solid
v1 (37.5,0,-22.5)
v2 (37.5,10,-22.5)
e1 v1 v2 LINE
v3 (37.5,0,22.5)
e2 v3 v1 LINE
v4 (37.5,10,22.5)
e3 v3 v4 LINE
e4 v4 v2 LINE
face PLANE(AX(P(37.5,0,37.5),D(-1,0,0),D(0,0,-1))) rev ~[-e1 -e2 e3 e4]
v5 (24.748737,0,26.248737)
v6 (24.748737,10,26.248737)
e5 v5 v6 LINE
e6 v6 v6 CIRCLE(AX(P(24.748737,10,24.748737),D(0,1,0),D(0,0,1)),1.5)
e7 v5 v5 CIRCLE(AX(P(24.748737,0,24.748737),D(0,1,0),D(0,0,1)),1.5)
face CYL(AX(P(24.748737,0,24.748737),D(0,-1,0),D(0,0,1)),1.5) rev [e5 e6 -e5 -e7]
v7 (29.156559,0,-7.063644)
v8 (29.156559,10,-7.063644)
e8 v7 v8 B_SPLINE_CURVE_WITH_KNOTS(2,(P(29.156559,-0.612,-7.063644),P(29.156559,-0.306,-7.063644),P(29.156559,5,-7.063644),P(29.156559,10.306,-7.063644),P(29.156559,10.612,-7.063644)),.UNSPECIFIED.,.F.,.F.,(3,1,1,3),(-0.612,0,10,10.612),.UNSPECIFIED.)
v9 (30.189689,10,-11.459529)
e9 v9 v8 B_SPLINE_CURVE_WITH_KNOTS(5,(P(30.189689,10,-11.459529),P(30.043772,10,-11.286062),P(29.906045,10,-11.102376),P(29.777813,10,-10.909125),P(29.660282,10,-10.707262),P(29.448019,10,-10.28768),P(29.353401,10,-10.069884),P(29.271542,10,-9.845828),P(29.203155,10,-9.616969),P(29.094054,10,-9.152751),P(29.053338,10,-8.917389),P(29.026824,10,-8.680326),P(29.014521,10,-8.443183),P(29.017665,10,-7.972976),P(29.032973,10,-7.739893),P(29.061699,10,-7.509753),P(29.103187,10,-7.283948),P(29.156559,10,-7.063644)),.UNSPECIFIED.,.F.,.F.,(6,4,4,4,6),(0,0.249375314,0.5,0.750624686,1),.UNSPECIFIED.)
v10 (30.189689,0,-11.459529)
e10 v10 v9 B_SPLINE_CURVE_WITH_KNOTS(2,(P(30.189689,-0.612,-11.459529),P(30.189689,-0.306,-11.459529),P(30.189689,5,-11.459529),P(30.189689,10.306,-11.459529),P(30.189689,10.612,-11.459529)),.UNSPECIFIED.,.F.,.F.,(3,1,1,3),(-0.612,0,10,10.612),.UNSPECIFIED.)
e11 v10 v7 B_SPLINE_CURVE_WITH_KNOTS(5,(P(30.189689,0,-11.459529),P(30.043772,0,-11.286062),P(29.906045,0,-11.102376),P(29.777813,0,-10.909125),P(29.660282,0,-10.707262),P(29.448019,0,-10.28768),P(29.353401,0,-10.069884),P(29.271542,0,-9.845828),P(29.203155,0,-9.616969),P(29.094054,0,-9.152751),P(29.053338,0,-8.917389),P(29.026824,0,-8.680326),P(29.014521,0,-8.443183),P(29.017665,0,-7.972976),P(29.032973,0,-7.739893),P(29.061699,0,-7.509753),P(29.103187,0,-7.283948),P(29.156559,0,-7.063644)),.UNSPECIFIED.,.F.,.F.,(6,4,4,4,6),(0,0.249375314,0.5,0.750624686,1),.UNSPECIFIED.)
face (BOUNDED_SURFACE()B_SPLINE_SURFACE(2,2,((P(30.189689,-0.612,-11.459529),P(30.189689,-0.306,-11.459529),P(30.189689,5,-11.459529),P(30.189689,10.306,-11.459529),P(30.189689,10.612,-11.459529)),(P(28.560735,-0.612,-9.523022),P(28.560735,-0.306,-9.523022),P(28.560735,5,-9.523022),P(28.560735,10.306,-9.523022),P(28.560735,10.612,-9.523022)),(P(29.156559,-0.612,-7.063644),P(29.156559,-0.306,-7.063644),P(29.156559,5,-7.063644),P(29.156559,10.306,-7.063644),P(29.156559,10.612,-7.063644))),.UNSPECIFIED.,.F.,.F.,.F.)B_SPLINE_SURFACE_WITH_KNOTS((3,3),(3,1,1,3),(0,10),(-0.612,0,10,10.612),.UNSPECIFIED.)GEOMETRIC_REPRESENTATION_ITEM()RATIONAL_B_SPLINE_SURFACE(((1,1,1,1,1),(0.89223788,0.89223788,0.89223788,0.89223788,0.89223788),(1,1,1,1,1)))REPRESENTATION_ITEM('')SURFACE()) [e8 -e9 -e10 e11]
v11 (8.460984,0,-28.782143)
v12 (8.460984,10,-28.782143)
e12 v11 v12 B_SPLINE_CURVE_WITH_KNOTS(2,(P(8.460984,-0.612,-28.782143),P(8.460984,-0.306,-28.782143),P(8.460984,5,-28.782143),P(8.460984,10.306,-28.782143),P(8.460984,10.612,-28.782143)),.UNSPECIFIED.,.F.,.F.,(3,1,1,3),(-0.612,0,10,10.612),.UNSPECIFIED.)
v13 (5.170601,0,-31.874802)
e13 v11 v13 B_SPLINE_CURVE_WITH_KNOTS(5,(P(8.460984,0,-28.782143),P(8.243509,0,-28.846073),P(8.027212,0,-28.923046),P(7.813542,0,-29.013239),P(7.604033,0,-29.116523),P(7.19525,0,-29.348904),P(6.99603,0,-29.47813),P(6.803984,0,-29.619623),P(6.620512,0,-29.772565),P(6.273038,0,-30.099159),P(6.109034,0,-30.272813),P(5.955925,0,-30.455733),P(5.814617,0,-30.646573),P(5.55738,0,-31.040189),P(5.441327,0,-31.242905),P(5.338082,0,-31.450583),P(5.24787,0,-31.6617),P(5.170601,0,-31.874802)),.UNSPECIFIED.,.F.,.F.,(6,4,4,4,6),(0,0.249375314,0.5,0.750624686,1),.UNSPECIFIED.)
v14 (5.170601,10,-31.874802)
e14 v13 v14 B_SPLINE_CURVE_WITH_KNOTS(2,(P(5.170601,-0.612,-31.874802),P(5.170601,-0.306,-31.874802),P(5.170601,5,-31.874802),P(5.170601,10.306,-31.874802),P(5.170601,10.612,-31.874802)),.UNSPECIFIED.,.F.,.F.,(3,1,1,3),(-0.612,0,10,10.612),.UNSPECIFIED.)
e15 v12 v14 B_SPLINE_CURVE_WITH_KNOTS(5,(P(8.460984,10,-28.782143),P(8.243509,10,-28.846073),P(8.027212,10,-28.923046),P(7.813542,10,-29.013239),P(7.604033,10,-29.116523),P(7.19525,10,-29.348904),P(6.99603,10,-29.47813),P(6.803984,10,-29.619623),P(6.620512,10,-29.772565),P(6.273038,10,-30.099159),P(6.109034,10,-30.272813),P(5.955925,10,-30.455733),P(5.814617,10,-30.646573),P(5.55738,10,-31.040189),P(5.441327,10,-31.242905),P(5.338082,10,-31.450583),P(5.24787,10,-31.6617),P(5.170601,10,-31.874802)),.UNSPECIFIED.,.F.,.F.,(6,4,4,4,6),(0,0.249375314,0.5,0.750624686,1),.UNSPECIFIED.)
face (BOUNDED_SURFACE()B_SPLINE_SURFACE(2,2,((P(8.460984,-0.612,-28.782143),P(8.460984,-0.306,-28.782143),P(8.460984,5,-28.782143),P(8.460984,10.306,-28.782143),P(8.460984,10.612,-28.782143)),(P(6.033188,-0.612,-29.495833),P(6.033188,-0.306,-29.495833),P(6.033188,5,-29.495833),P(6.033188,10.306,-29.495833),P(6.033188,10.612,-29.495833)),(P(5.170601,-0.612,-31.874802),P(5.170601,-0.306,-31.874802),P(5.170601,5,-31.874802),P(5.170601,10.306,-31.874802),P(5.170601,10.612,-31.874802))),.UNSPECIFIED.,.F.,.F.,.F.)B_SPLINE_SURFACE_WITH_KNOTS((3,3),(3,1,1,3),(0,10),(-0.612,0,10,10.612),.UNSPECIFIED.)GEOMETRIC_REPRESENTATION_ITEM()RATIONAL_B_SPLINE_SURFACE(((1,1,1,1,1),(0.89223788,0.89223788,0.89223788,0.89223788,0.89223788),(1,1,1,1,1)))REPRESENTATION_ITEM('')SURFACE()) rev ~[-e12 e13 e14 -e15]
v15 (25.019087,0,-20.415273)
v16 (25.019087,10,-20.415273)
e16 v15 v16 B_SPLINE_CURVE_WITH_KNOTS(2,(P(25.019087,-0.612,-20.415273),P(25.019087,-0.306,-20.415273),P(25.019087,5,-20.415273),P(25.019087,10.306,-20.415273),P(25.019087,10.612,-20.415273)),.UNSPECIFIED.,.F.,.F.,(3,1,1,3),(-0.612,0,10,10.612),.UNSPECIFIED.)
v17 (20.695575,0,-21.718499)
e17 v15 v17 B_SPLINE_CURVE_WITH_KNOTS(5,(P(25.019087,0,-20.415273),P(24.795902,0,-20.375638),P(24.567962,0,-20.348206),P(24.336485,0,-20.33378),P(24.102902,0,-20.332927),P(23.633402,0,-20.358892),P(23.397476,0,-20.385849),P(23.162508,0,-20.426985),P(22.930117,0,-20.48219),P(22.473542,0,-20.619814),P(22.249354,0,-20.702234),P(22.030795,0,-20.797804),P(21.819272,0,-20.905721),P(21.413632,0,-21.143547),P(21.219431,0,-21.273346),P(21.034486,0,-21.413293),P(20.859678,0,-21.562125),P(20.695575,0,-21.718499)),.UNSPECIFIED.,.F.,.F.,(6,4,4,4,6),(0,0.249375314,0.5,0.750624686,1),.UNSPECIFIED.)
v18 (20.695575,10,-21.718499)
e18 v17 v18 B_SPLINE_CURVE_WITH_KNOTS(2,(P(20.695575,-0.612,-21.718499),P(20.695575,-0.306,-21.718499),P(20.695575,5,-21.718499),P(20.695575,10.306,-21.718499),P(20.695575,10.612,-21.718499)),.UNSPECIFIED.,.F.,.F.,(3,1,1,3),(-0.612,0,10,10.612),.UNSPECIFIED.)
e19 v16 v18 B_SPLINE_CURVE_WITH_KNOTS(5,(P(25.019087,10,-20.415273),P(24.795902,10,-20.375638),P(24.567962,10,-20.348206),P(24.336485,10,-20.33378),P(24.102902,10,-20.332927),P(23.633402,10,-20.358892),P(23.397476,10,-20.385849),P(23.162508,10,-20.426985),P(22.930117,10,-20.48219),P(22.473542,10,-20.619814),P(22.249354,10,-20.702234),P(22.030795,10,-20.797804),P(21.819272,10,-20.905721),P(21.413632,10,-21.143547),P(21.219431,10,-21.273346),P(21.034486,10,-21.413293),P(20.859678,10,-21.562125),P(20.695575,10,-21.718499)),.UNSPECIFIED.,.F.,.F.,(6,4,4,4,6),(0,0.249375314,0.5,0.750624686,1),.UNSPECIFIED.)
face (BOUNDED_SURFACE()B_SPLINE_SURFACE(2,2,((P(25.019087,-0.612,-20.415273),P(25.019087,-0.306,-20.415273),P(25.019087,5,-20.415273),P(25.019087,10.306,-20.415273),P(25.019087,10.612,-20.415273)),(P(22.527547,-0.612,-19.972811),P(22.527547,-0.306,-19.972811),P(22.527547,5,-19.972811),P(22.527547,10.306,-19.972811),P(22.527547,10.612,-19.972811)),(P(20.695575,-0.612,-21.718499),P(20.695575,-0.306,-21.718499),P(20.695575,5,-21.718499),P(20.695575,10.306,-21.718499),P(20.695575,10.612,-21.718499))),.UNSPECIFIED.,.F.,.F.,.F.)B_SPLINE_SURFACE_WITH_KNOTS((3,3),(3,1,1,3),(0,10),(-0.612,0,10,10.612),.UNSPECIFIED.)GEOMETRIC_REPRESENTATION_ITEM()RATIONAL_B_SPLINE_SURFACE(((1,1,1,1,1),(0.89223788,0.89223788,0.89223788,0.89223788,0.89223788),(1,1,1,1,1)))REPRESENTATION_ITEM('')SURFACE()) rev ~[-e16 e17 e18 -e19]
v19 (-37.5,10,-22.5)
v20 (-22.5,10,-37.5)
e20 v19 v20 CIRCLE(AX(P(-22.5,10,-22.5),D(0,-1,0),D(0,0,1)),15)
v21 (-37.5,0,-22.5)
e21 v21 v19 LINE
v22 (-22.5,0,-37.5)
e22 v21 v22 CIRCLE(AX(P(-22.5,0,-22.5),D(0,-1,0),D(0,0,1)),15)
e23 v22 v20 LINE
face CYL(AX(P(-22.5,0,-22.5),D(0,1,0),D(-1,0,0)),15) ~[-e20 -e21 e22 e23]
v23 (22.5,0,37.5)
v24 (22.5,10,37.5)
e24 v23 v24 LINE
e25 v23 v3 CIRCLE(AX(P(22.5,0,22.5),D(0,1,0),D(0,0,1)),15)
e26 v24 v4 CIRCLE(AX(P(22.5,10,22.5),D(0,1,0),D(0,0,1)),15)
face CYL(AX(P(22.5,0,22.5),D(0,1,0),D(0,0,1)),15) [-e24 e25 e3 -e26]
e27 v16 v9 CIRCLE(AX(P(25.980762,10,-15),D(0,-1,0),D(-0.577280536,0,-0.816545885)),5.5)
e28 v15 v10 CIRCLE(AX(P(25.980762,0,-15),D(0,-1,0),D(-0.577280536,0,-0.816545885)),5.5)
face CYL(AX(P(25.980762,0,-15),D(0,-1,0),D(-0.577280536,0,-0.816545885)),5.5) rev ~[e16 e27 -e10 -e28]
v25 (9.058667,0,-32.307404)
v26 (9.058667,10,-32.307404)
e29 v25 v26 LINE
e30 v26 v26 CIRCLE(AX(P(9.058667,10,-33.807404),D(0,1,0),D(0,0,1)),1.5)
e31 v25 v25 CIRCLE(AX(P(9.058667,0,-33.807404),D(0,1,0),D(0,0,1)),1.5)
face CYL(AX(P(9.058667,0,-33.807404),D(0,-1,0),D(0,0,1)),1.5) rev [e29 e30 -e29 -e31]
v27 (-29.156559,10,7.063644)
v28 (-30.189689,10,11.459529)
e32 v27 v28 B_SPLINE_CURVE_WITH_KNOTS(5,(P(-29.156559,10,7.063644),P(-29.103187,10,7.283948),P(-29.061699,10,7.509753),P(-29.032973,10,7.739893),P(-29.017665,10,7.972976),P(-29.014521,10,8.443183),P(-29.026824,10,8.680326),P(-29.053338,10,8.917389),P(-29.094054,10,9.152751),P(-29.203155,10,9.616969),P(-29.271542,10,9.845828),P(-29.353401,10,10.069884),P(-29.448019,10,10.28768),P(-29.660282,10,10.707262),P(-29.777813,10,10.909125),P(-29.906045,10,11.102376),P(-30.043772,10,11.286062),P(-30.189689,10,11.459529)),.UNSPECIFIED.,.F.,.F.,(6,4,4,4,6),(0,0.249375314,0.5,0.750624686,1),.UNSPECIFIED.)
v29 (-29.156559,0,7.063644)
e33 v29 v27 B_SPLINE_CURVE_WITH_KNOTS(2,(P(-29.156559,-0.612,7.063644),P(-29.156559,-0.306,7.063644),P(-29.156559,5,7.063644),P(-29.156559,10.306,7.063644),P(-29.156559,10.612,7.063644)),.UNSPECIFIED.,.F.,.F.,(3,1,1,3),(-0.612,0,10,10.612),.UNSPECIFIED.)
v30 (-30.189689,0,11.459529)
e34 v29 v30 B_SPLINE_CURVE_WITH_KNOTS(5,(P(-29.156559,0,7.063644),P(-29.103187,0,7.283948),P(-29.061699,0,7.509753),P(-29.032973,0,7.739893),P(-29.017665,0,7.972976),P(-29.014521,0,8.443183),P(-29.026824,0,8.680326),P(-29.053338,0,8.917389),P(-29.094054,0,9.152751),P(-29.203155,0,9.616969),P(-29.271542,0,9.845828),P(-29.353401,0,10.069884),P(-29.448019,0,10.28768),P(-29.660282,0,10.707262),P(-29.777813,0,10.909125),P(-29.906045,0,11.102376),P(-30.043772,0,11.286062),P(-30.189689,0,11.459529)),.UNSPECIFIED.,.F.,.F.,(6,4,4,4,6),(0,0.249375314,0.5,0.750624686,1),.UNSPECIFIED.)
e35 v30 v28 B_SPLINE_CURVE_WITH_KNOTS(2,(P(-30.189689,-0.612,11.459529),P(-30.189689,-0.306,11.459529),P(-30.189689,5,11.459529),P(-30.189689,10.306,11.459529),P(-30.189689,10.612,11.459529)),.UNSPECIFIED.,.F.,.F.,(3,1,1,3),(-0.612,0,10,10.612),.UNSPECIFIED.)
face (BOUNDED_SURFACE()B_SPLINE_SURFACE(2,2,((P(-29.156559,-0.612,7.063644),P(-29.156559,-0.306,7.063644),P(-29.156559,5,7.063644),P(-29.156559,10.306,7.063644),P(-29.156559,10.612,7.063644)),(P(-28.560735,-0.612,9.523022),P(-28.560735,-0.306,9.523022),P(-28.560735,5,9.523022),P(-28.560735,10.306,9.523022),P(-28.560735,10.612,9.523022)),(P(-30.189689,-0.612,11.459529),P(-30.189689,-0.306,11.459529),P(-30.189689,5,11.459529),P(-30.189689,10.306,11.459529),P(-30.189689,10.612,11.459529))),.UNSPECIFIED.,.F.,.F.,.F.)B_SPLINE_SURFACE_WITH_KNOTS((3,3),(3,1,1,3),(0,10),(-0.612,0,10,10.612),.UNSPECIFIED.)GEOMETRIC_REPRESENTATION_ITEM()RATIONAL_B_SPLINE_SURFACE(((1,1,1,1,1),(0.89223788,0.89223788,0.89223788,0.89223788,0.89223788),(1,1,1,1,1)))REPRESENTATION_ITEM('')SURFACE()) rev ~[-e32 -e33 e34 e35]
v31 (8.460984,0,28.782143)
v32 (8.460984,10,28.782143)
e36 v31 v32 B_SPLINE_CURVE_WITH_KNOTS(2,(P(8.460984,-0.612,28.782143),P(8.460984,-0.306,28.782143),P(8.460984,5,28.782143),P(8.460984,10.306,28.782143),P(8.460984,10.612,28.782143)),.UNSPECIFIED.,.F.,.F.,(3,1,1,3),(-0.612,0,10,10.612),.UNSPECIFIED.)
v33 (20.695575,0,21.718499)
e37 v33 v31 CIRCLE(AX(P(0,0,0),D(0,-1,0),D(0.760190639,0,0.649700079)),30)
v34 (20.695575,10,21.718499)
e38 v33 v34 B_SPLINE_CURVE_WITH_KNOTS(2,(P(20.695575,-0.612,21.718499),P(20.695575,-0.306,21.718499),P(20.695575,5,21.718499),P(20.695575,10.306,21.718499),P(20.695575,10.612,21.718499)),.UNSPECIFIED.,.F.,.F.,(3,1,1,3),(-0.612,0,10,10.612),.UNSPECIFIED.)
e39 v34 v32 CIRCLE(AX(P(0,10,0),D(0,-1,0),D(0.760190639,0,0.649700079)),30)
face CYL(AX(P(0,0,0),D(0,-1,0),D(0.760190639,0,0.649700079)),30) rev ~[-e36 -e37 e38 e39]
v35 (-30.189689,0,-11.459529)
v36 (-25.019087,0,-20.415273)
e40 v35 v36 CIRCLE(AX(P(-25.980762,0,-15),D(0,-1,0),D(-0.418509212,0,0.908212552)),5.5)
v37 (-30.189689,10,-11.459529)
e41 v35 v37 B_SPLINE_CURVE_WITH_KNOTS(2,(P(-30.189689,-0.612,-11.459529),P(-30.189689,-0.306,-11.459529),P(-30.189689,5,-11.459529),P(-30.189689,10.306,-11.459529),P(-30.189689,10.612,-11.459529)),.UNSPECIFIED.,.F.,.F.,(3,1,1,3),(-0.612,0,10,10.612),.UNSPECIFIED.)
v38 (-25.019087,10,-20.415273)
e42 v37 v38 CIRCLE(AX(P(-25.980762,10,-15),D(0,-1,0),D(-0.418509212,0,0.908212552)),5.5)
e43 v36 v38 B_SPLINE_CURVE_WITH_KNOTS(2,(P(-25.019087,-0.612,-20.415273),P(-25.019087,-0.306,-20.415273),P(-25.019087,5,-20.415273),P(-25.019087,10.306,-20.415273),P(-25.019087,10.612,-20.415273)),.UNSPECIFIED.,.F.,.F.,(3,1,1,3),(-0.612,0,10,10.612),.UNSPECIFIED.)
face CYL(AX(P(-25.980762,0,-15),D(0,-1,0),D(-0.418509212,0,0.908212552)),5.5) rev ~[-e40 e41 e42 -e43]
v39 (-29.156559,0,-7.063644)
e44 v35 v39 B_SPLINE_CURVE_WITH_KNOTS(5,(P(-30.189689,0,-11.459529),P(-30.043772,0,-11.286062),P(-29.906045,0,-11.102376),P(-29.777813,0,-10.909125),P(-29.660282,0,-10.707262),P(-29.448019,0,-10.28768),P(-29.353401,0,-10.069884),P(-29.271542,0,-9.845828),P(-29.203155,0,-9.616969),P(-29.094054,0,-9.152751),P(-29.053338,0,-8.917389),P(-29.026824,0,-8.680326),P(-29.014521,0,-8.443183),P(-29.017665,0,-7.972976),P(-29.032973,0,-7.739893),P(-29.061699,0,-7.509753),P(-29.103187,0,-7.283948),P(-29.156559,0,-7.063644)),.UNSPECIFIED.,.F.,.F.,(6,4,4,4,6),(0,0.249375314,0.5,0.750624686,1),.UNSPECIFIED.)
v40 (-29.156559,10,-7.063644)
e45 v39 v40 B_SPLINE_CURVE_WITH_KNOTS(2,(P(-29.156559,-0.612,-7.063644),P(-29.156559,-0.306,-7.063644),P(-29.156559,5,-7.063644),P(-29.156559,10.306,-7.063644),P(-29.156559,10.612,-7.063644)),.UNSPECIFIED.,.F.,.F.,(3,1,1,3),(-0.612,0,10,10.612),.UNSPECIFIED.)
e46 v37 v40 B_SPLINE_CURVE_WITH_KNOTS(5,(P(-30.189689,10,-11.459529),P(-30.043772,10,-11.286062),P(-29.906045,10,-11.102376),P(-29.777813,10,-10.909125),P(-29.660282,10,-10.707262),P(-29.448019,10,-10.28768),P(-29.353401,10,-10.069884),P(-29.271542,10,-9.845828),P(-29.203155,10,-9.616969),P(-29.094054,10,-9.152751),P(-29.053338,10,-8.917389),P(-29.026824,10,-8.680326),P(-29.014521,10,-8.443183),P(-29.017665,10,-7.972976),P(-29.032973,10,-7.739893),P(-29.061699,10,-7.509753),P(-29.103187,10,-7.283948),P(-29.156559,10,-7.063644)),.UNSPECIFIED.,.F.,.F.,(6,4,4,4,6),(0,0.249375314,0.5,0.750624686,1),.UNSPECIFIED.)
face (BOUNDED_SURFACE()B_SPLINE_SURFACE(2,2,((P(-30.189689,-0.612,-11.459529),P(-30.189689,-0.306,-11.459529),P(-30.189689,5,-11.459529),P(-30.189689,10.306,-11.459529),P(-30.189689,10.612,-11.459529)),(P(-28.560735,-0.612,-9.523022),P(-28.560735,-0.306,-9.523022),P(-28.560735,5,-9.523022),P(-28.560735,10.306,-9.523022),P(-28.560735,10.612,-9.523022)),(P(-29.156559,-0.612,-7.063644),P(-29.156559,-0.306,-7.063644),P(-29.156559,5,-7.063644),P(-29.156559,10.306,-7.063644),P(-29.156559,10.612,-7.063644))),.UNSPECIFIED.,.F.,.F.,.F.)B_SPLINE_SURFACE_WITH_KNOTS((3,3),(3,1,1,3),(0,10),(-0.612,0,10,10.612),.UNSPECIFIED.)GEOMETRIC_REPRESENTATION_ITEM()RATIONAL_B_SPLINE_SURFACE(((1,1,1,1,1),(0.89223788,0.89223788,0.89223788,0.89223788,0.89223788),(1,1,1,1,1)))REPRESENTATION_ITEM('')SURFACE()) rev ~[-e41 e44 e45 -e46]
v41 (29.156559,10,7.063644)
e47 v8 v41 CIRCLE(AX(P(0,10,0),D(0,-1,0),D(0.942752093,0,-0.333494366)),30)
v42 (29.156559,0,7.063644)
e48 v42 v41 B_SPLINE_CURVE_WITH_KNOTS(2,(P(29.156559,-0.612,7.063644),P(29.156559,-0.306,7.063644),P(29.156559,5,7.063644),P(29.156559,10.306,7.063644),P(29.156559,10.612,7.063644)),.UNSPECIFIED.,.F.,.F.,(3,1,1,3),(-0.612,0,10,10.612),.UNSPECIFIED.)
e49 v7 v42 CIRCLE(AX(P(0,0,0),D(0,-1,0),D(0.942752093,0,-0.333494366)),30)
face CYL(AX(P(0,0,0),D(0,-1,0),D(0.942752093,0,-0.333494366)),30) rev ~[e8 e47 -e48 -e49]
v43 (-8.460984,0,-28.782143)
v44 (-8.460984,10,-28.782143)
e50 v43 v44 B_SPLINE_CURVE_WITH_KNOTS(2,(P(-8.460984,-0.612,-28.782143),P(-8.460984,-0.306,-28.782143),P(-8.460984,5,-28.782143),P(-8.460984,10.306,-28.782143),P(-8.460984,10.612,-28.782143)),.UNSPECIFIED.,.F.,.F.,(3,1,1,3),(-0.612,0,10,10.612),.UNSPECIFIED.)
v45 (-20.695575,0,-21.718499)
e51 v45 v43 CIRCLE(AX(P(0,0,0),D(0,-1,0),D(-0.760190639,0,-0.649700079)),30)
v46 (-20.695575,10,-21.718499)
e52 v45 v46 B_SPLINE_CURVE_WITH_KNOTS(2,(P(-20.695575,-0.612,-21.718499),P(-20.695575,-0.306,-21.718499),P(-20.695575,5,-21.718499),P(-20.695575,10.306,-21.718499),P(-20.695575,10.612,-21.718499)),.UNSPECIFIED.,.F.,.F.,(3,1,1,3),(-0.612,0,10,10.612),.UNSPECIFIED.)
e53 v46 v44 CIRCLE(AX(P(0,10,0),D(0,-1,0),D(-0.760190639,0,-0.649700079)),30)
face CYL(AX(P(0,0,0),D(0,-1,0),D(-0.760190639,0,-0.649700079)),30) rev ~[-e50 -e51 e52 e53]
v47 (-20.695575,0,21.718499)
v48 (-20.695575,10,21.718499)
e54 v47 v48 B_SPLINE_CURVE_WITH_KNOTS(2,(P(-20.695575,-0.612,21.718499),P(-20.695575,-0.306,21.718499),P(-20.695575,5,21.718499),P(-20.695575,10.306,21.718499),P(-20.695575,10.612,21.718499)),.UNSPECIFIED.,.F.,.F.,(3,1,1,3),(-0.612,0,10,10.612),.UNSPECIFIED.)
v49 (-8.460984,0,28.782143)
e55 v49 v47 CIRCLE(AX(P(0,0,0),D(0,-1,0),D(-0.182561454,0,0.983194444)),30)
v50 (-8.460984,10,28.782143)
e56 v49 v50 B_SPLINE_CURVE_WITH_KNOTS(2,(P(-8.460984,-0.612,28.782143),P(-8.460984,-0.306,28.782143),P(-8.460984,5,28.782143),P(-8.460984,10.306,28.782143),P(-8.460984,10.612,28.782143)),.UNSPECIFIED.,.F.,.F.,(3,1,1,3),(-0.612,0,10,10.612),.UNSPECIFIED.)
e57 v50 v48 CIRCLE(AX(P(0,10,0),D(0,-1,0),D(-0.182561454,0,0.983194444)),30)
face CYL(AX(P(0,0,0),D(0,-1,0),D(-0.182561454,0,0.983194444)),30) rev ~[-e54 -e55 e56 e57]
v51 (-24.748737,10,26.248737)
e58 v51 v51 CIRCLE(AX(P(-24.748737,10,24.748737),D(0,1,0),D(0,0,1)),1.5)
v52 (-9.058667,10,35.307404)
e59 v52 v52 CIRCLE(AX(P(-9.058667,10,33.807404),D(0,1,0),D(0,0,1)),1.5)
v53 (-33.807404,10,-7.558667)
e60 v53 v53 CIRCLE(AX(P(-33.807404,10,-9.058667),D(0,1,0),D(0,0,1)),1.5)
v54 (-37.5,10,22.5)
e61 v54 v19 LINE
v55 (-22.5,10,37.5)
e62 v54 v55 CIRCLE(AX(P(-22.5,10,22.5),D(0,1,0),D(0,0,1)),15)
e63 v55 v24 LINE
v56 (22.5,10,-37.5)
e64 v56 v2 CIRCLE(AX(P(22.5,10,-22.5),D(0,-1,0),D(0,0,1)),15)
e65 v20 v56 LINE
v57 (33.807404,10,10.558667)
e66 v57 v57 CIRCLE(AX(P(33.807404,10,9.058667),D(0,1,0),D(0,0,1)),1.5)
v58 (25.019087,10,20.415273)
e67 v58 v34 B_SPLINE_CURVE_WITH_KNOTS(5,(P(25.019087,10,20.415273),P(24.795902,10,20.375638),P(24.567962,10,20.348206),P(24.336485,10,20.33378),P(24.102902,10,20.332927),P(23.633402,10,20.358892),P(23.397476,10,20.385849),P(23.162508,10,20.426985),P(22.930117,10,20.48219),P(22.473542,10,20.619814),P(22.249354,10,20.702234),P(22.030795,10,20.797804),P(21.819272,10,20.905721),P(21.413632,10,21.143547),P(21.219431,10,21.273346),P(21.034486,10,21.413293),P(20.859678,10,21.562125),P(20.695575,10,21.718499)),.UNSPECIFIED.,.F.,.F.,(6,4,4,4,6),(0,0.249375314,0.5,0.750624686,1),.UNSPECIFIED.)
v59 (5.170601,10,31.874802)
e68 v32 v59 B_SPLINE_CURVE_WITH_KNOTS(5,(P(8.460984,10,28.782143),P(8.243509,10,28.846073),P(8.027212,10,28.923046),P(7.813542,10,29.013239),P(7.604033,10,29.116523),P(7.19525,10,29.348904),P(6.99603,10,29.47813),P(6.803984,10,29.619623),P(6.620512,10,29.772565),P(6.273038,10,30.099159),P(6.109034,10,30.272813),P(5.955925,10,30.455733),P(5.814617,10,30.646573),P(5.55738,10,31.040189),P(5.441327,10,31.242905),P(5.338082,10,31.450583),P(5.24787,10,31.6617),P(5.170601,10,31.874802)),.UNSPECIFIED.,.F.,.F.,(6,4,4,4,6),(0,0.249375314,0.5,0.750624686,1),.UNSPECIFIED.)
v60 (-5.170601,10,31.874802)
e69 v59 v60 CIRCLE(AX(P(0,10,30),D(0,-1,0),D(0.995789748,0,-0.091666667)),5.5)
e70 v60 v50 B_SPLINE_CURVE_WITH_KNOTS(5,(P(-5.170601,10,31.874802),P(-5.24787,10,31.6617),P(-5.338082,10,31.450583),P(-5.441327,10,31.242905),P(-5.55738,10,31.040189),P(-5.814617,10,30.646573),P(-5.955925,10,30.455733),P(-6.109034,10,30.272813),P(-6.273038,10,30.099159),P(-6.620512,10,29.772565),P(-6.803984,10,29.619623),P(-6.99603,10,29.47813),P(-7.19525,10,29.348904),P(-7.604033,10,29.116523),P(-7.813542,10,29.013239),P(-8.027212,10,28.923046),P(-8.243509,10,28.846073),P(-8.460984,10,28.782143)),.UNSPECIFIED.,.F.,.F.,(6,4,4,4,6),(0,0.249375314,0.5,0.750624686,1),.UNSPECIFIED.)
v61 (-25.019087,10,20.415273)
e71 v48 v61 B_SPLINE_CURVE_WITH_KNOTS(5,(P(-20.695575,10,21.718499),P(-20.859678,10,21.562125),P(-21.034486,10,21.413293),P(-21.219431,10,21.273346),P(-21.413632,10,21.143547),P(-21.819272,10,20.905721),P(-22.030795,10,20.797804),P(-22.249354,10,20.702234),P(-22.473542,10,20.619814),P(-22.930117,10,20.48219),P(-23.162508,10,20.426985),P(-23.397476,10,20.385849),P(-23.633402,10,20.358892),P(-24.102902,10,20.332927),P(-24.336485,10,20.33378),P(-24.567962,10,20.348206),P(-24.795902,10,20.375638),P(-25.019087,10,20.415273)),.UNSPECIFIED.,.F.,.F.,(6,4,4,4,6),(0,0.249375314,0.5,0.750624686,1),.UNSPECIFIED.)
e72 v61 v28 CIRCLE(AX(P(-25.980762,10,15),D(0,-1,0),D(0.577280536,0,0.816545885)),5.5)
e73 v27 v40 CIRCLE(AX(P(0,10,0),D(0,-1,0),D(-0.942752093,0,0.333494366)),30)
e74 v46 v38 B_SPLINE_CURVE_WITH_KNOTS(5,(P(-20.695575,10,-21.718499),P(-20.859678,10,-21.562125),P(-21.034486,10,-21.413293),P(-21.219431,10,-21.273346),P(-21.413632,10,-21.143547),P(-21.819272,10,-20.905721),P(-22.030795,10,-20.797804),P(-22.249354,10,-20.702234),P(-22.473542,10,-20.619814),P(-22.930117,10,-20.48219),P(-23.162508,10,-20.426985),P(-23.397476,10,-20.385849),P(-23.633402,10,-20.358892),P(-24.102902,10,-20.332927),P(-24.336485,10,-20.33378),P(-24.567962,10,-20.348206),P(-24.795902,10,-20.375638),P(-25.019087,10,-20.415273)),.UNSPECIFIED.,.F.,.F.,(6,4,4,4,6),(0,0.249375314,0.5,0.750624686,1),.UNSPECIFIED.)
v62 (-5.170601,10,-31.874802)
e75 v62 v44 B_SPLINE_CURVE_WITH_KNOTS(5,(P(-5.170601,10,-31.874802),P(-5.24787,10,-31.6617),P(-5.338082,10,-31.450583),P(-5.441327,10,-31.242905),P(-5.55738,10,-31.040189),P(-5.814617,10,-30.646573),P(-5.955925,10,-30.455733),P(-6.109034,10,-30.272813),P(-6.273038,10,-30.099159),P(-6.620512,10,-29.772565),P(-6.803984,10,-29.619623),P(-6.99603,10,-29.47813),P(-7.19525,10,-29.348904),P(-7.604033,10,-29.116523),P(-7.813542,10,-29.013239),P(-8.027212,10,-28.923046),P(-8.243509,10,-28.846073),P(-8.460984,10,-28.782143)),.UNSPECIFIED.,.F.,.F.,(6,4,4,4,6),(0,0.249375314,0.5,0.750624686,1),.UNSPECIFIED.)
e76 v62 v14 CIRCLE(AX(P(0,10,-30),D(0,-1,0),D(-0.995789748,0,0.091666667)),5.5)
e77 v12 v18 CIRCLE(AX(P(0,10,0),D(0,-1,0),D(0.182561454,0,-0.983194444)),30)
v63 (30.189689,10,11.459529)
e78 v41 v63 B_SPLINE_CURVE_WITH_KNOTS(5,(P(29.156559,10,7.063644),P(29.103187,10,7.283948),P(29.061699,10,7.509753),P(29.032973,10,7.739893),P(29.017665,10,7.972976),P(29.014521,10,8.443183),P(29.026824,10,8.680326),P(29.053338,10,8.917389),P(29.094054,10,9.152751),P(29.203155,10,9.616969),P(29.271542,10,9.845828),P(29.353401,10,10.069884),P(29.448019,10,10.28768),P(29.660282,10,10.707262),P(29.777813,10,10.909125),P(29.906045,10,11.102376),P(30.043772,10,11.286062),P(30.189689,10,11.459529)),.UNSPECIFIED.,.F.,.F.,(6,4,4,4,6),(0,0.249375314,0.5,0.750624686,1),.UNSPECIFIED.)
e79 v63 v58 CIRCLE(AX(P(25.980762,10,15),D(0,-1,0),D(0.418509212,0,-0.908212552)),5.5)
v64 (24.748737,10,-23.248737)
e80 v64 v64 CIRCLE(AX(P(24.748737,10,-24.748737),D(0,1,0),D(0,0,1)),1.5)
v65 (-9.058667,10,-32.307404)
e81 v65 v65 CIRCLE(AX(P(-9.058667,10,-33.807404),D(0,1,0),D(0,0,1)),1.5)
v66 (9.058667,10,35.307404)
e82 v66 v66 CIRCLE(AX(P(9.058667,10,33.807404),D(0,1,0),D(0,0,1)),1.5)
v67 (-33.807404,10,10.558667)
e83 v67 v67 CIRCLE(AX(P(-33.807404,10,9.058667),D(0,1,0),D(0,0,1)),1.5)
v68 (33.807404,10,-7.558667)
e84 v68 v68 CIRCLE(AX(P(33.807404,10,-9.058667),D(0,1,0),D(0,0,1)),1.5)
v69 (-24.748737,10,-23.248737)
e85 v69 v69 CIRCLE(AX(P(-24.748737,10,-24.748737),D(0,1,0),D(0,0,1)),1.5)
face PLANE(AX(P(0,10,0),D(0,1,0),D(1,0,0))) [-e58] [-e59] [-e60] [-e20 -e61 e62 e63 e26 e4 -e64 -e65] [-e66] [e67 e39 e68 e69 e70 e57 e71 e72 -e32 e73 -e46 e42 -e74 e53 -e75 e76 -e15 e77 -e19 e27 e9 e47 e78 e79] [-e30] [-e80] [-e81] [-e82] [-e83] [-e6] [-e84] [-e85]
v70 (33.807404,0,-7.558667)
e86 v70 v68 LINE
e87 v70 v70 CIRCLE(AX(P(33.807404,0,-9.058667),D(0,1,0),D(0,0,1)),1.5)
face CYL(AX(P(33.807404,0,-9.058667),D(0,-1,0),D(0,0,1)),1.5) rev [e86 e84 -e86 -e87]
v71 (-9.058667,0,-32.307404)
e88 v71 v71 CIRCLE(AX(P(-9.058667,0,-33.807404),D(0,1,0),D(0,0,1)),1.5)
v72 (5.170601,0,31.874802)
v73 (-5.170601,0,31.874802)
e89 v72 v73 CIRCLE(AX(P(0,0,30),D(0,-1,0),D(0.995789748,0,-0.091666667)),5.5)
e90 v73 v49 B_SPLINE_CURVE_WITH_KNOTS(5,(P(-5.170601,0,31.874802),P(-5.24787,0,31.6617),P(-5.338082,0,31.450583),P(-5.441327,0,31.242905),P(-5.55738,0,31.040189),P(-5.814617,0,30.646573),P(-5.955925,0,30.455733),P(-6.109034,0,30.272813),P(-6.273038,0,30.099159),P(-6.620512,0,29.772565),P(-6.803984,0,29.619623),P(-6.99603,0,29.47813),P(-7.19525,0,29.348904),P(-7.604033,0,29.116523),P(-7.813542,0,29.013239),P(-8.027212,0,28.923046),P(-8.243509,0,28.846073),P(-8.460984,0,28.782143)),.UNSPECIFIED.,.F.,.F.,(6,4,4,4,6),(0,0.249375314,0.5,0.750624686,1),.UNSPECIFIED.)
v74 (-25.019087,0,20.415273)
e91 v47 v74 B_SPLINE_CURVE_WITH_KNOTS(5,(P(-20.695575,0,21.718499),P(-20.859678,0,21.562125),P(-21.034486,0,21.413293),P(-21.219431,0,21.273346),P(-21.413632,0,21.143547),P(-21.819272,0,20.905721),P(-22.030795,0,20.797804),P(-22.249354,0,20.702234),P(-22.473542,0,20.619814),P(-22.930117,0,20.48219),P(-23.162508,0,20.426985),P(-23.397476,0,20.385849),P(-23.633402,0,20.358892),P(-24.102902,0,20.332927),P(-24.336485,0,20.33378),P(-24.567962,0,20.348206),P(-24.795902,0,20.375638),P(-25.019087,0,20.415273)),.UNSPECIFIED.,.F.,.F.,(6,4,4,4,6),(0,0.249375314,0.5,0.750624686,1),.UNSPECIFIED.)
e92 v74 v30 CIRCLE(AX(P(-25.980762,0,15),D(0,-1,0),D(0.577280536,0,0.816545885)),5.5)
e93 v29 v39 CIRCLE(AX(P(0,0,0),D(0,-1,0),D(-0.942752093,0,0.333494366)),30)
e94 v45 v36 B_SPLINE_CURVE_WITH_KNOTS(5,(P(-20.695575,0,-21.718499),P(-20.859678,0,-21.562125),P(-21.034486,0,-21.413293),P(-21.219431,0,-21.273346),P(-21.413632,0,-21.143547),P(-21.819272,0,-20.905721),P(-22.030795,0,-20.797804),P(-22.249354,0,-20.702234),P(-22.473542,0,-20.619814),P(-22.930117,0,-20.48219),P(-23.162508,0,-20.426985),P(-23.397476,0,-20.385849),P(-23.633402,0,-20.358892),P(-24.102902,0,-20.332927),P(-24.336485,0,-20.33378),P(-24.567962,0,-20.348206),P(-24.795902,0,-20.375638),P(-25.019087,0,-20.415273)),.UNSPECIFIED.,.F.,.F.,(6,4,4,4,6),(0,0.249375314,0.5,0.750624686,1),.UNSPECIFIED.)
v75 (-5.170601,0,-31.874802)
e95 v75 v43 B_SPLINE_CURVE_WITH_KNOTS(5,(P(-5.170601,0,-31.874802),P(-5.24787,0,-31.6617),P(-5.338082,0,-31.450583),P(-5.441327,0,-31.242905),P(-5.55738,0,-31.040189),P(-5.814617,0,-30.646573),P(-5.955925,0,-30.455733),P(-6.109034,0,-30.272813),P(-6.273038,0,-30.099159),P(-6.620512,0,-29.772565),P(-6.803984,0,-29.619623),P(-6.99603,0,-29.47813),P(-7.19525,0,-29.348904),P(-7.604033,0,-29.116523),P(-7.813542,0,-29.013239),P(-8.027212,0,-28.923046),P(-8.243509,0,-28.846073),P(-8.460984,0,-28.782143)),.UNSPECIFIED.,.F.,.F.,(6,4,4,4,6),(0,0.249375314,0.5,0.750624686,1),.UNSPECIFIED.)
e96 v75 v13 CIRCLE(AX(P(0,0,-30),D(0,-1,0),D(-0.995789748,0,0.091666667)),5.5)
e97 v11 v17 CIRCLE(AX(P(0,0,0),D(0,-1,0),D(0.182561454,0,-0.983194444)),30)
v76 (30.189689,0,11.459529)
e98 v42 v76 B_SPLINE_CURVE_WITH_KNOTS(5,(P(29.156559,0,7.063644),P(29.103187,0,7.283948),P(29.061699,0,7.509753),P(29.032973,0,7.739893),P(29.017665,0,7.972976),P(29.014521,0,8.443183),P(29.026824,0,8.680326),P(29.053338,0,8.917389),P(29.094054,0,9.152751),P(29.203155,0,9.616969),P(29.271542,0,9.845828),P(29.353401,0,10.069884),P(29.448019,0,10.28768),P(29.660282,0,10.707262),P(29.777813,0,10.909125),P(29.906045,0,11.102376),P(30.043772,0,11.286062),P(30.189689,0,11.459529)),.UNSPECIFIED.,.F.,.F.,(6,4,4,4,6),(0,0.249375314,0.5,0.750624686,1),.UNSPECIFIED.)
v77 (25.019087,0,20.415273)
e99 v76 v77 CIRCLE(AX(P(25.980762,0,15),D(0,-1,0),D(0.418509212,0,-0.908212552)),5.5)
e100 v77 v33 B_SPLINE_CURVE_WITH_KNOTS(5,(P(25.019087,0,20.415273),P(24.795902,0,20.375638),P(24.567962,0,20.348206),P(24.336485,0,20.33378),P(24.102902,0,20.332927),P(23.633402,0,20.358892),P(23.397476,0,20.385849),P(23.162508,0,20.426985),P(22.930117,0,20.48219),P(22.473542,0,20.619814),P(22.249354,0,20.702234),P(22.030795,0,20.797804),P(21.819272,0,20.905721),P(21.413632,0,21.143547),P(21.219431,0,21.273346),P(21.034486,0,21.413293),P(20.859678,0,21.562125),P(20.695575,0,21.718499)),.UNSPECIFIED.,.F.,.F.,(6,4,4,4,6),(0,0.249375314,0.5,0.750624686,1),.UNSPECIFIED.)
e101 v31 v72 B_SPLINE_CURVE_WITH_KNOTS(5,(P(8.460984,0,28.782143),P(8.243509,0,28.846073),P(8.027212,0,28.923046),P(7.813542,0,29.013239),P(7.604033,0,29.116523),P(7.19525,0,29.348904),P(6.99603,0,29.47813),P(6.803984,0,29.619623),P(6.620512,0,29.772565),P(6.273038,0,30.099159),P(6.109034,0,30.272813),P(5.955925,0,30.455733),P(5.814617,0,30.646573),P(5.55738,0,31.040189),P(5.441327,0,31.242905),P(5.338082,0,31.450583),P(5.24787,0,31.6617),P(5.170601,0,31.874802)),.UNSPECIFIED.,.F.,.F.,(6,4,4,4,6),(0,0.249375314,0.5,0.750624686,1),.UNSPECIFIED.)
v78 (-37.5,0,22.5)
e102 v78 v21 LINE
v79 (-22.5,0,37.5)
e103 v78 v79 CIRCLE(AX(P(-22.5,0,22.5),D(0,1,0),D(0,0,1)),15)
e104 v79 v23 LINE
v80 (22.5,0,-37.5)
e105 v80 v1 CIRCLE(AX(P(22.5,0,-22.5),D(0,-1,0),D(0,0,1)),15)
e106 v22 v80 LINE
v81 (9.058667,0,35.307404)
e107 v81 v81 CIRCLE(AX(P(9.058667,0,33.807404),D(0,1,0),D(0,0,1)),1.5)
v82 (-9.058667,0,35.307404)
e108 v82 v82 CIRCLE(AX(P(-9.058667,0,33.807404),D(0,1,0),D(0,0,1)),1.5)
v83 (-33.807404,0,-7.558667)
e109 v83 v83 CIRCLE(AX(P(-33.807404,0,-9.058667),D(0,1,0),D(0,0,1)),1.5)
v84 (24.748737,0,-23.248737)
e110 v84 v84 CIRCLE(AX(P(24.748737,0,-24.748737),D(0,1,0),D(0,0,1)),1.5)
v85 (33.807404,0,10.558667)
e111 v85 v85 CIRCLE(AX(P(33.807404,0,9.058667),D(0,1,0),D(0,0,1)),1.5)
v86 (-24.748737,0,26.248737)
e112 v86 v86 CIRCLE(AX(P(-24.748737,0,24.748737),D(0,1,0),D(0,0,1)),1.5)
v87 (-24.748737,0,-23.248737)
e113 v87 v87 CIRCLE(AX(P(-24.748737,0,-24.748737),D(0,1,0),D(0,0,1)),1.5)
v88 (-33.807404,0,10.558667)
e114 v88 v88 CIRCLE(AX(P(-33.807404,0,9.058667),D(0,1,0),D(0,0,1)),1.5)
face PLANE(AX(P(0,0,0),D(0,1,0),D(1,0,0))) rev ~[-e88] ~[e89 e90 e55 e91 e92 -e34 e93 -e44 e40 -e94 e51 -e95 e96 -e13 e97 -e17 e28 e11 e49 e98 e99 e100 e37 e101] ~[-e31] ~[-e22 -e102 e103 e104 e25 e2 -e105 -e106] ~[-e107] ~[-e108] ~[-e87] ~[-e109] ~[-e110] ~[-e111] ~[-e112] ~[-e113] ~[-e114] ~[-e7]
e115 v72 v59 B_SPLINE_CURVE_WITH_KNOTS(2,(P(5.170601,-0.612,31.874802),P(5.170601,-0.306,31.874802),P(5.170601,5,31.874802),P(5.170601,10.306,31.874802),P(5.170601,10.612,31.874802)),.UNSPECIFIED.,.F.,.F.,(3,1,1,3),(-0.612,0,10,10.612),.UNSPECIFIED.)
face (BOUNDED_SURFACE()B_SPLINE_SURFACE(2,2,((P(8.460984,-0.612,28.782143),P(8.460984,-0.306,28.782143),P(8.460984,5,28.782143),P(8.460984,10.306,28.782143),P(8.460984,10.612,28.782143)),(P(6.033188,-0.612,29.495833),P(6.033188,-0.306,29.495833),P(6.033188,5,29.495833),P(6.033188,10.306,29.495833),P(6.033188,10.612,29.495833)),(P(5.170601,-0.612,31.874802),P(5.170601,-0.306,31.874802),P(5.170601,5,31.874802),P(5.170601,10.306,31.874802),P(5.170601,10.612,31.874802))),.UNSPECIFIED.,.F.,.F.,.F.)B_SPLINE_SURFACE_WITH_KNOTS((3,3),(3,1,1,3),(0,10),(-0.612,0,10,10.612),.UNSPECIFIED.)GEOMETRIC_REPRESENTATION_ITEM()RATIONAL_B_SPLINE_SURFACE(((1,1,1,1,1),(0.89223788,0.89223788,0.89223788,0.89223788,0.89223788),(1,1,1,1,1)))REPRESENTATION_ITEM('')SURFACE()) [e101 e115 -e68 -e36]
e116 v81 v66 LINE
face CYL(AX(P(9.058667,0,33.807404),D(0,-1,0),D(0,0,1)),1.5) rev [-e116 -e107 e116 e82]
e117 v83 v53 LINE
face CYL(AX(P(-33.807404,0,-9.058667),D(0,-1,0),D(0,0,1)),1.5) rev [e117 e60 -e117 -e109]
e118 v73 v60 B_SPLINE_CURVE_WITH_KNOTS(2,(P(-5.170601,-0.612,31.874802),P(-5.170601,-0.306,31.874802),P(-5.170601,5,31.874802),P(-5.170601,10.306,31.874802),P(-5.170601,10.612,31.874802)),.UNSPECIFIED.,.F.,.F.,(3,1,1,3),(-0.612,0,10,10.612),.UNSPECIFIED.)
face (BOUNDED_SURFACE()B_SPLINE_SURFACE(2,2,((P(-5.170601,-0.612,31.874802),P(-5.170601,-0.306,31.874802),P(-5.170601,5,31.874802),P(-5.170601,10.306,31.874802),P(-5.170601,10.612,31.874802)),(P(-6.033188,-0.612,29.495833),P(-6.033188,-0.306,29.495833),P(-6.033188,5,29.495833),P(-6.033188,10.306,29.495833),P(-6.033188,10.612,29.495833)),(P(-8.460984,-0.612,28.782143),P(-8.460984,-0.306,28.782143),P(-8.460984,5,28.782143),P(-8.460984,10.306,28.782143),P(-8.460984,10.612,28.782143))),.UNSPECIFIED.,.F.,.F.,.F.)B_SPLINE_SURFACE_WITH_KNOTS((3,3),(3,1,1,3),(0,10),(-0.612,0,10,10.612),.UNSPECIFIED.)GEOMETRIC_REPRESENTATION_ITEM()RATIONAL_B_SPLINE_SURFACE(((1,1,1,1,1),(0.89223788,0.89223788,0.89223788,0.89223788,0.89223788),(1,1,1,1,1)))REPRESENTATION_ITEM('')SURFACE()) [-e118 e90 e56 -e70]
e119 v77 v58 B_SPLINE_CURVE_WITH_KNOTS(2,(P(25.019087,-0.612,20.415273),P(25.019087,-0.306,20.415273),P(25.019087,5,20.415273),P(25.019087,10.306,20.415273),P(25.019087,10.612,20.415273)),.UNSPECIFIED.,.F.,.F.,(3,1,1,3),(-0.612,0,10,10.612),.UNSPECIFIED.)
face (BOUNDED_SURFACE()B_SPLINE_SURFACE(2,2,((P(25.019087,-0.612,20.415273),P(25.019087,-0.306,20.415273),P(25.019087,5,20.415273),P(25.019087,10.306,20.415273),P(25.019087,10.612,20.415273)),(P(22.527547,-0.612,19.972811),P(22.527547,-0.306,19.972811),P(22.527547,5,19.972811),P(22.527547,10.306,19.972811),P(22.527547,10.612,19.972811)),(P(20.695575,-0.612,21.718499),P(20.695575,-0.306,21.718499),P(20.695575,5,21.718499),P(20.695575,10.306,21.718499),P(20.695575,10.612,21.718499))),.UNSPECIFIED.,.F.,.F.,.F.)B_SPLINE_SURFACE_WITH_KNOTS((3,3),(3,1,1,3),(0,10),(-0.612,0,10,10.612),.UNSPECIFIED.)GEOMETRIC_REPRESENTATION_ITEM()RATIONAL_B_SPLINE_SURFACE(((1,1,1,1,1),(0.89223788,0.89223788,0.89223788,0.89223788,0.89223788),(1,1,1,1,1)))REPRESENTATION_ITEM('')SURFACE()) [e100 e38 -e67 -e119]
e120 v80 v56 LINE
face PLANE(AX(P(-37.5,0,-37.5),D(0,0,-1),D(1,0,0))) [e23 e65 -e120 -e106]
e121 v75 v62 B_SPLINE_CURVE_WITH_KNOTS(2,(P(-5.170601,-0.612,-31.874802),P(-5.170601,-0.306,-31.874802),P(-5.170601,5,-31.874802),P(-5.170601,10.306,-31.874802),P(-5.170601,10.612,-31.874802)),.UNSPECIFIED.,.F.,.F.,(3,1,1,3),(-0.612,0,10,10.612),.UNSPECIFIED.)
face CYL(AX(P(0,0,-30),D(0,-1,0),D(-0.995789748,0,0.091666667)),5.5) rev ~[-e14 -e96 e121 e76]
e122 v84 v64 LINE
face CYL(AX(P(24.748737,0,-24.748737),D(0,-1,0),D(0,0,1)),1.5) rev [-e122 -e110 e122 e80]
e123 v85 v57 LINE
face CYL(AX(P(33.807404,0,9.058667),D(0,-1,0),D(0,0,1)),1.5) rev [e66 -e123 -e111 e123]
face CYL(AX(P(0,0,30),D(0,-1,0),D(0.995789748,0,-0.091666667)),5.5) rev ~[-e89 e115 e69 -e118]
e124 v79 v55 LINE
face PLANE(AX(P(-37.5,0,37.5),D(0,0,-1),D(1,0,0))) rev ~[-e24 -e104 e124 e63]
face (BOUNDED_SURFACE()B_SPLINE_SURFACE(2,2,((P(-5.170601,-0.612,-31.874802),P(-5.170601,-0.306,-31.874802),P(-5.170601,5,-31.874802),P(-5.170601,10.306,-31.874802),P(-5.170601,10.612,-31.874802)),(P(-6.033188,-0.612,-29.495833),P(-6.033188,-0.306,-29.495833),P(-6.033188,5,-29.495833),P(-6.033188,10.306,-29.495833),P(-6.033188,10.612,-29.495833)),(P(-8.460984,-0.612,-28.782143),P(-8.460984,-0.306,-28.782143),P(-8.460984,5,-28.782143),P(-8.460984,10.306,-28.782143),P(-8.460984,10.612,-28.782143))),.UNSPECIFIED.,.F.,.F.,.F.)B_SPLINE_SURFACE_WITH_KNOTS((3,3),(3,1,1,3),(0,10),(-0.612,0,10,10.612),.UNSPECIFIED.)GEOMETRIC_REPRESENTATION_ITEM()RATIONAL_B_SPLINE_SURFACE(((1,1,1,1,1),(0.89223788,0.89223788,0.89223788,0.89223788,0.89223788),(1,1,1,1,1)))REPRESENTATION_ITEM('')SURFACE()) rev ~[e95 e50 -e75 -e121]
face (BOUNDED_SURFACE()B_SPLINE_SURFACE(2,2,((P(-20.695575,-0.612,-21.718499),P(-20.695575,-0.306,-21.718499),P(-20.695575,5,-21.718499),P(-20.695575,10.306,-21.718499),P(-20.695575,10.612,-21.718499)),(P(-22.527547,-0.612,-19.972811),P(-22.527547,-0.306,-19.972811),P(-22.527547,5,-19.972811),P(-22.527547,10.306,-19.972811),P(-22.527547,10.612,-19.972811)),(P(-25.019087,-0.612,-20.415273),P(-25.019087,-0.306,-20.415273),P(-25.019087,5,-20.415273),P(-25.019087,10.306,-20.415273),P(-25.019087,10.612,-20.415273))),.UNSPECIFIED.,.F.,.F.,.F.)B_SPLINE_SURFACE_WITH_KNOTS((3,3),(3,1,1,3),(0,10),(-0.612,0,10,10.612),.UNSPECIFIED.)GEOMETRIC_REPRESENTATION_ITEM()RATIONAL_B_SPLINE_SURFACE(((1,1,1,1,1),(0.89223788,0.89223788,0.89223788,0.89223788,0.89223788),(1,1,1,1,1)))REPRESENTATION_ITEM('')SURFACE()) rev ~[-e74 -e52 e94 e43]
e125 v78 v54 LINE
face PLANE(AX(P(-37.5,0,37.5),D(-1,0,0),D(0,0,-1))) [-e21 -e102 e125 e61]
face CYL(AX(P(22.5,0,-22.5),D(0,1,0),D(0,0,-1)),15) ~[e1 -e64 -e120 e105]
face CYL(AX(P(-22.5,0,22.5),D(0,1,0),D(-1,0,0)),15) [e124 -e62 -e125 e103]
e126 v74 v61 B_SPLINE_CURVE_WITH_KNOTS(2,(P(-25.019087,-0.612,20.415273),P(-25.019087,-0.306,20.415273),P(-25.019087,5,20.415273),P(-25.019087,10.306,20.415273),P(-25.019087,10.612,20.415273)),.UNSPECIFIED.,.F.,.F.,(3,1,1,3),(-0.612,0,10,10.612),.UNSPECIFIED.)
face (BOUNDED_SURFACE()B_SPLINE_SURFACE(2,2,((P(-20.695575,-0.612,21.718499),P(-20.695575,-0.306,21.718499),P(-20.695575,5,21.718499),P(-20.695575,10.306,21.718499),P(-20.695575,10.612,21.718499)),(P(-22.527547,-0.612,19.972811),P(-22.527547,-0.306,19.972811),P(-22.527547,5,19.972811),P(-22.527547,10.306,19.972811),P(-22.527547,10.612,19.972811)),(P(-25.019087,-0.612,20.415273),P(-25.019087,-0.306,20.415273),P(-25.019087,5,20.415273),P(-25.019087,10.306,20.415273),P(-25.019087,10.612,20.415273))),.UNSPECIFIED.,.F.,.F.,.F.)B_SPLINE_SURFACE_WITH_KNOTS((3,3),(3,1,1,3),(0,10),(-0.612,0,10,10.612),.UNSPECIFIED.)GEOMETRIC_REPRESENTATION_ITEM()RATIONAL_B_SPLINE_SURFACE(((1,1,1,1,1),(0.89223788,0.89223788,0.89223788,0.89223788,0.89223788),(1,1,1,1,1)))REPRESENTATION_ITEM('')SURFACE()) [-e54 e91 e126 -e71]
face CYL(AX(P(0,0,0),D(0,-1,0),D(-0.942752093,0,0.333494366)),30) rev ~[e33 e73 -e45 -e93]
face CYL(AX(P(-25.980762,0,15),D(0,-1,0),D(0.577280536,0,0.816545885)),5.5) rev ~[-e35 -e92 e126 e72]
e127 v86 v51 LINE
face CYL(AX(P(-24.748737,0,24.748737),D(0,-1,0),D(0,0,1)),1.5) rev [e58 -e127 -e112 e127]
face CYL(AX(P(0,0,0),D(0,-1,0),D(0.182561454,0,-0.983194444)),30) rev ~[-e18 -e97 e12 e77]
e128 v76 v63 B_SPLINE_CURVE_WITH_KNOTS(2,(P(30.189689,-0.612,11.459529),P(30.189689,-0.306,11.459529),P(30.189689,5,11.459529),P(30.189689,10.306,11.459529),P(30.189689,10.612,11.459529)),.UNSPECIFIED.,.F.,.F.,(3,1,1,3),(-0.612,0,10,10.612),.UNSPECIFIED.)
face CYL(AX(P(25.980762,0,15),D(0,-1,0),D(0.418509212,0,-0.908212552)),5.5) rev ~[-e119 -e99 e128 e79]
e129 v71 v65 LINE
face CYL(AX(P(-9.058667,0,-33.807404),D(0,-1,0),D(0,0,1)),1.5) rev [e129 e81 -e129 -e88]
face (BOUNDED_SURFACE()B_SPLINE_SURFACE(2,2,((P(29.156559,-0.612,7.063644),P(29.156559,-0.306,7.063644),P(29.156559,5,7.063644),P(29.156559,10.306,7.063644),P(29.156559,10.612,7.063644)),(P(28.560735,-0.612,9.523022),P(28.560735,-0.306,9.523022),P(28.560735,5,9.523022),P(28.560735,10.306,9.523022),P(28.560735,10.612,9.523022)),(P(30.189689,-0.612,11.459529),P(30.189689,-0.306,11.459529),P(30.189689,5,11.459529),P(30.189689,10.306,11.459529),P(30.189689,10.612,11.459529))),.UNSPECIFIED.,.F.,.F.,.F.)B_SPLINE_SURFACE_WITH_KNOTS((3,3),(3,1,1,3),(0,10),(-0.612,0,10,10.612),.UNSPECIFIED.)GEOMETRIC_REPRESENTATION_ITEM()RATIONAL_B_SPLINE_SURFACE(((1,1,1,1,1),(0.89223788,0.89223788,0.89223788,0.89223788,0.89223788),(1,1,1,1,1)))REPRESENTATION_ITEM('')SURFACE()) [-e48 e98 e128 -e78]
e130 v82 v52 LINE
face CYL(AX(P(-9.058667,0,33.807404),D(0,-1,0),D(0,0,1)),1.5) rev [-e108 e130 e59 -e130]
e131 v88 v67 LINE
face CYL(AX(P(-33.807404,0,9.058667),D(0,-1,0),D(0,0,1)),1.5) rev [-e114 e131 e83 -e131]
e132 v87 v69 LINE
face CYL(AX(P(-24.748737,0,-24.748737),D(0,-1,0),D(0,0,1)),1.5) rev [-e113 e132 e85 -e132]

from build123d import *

# Parameters (mm, degrees)
SKETCH1_W           = 75
SKETCH1_H           = 75
SKETCH1_R           = 1.5
BOSS_EXTRUDE1_DEPTH = 10
FILLET1_R           = 5
FILLET2_R           = 15


with BuildPart() as part:
    # Sketch1 → Boss-Extrude1 (new body)
    with BuildSketch(Plane(origin=(0, 0, 0), x_dir=(1, 0, 0), z_dir=(0, 1, 0))):
        Rectangle(SKETCH1_W, SKETCH1_H)
        with Locations(Location((24.748737342, 24.748737342, 0), (0, 0, 270))):
            Circle(SKETCH1_R, mode=Mode.SUBTRACT)
        with Locations(Location((-24.748737342, -24.748737342, 0), (0, 0, 270))):
            Circle(SKETCH1_R, mode=Mode.SUBTRACT)
        with Locations(Location((-9.058666579, -33.80740392, 0), (0, 0, 270))):
            Circle(SKETCH1_R, mode=Mode.SUBTRACT)
        with Locations(Location((-33.80740392, -9.058666579, 0), (0, 0, 270))):
            Circle(SKETCH1_R, mode=Mode.SUBTRACT)
        with Locations(Location((9.058666579, -33.80740392, 0), (0, 0, 270))):
            Circle(SKETCH1_R, mode=Mode.SUBTRACT)
        with Locations(Location((24.748737342, -24.748737342, 0), (0, 0, 270))):
            Circle(SKETCH1_R, mode=Mode.SUBTRACT)
        with Locations(Location((33.80740392, -9.058666579, 0), (0, 0, 270))):
            Circle(SKETCH1_R, mode=Mode.SUBTRACT)
        with Locations(Location((-33.80740392, 9.058666579, 0), (0, 0, 270))):
            Circle(SKETCH1_R, mode=Mode.SUBTRACT)
        with Locations(Location((-24.748737342, 24.748737342, 0), (0, 0, 270))):
            Circle(SKETCH1_R, mode=Mode.SUBTRACT)
        with Locations(Location((-9.058666579, 33.80740392, 0), (0, 0, 270))):
            Circle(SKETCH1_R, mode=Mode.SUBTRACT)
        with BuildLine():
            ThreePointArc((28.282562779, 10.004830964), (30, 0), (28.282562779, -10.004830964))
            ThreePointArc((28.282562779, -10.004830964), (30.743901834, -17.75), (22.805719165, -19.491002369))
            ThreePointArc((22.805719165, -19.491002369), (15, -25.980762114), (5.476843614, -29.495833333))
            ThreePointArc((5.476843614, -29.495833333), (0, -35.5), (-5.476843614, -29.495833333))
            ThreePointArc((-5.476843614, -29.495833333), (-15, -25.980762114), (-22.805719165, -19.491002369))
            ThreePointArc((-22.805719165, -19.491002369), (-30.743901834, -17.75), (-28.282562779, -10.004830964))
            ThreePointArc((-28.282562779, -10.004830964), (-30, 0), (-28.282562779, 10.004830964))
            ThreePointArc((-28.282562779, 10.004830964), (-30.743901834, 17.75), (-22.805719165, 19.491002369))
            ThreePointArc((-22.805719165, 19.491002369), (-15, 25.980762114), (-5.476843614, 29.495833333))
            ThreePointArc((-5.476843614, 29.495833333), (0, 35.5), (5.476843614, 29.495833333))
            ThreePointArc((5.476843614, 29.495833333), (15, 25.980762114), (22.805719165, 19.491002369))
            ThreePointArc((22.805719165, 19.491002369), (30.743901834, 17.75), (28.282562779, 10.004830964))
        make_face(mode=Mode.SUBTRACT)
        with Locations(Location((33.80740392, 9.058666579, 0), (0, 0, 270))):
            Circle(SKETCH1_R, mode=Mode.SUBTRACT)
        with Locations(Location((9.058666579, 33.80740392, 0), (0, 0, 270))):
            Circle(SKETCH1_R, mode=Mode.SUBTRACT)
    extrude(amount=BOSS_EXTRUDE1_DEPTH)

    # Fillet1
    fillet1_edges = [part.edges().sort_by_distance(p)[0] for p in [
        (-28.282562779, 5, -10.004830964),
        (-28.282562779, 5, 10.004830964),
        (-22.805719165, 5, 19.491002369),
        (-5.476843614, 5, 29.495833333),
        (5.476843614, 5, 29.495833333),
        (22.805719165, 5, 19.491002369),
        (28.282562779, 5, 10.004830964),
        (28.282562779, 5, -10.004830964),
        (22.805719165, 5, -19.491002369),
        (5.476843614, 5, -29.495833333),
        (-5.476843614, 5, -29.495833333),
        (-22.805719165, 5, -19.491002369),
    ]]
    fillet(fillet1_edges, radius=FILLET1_R)

    # Fillet2
    fillet2_edges = [part.edges().sort_by_distance(p)[0] for p in [
        (-37.5, 5, -37.5),
        (37.5, 5, -37.5),
        (37.5, 5, 37.5),
        (-37.5, 5, 37.5),
    ]]
    fillet(fillet2_edges, radius=FILLET2_R)


solid = part.part
